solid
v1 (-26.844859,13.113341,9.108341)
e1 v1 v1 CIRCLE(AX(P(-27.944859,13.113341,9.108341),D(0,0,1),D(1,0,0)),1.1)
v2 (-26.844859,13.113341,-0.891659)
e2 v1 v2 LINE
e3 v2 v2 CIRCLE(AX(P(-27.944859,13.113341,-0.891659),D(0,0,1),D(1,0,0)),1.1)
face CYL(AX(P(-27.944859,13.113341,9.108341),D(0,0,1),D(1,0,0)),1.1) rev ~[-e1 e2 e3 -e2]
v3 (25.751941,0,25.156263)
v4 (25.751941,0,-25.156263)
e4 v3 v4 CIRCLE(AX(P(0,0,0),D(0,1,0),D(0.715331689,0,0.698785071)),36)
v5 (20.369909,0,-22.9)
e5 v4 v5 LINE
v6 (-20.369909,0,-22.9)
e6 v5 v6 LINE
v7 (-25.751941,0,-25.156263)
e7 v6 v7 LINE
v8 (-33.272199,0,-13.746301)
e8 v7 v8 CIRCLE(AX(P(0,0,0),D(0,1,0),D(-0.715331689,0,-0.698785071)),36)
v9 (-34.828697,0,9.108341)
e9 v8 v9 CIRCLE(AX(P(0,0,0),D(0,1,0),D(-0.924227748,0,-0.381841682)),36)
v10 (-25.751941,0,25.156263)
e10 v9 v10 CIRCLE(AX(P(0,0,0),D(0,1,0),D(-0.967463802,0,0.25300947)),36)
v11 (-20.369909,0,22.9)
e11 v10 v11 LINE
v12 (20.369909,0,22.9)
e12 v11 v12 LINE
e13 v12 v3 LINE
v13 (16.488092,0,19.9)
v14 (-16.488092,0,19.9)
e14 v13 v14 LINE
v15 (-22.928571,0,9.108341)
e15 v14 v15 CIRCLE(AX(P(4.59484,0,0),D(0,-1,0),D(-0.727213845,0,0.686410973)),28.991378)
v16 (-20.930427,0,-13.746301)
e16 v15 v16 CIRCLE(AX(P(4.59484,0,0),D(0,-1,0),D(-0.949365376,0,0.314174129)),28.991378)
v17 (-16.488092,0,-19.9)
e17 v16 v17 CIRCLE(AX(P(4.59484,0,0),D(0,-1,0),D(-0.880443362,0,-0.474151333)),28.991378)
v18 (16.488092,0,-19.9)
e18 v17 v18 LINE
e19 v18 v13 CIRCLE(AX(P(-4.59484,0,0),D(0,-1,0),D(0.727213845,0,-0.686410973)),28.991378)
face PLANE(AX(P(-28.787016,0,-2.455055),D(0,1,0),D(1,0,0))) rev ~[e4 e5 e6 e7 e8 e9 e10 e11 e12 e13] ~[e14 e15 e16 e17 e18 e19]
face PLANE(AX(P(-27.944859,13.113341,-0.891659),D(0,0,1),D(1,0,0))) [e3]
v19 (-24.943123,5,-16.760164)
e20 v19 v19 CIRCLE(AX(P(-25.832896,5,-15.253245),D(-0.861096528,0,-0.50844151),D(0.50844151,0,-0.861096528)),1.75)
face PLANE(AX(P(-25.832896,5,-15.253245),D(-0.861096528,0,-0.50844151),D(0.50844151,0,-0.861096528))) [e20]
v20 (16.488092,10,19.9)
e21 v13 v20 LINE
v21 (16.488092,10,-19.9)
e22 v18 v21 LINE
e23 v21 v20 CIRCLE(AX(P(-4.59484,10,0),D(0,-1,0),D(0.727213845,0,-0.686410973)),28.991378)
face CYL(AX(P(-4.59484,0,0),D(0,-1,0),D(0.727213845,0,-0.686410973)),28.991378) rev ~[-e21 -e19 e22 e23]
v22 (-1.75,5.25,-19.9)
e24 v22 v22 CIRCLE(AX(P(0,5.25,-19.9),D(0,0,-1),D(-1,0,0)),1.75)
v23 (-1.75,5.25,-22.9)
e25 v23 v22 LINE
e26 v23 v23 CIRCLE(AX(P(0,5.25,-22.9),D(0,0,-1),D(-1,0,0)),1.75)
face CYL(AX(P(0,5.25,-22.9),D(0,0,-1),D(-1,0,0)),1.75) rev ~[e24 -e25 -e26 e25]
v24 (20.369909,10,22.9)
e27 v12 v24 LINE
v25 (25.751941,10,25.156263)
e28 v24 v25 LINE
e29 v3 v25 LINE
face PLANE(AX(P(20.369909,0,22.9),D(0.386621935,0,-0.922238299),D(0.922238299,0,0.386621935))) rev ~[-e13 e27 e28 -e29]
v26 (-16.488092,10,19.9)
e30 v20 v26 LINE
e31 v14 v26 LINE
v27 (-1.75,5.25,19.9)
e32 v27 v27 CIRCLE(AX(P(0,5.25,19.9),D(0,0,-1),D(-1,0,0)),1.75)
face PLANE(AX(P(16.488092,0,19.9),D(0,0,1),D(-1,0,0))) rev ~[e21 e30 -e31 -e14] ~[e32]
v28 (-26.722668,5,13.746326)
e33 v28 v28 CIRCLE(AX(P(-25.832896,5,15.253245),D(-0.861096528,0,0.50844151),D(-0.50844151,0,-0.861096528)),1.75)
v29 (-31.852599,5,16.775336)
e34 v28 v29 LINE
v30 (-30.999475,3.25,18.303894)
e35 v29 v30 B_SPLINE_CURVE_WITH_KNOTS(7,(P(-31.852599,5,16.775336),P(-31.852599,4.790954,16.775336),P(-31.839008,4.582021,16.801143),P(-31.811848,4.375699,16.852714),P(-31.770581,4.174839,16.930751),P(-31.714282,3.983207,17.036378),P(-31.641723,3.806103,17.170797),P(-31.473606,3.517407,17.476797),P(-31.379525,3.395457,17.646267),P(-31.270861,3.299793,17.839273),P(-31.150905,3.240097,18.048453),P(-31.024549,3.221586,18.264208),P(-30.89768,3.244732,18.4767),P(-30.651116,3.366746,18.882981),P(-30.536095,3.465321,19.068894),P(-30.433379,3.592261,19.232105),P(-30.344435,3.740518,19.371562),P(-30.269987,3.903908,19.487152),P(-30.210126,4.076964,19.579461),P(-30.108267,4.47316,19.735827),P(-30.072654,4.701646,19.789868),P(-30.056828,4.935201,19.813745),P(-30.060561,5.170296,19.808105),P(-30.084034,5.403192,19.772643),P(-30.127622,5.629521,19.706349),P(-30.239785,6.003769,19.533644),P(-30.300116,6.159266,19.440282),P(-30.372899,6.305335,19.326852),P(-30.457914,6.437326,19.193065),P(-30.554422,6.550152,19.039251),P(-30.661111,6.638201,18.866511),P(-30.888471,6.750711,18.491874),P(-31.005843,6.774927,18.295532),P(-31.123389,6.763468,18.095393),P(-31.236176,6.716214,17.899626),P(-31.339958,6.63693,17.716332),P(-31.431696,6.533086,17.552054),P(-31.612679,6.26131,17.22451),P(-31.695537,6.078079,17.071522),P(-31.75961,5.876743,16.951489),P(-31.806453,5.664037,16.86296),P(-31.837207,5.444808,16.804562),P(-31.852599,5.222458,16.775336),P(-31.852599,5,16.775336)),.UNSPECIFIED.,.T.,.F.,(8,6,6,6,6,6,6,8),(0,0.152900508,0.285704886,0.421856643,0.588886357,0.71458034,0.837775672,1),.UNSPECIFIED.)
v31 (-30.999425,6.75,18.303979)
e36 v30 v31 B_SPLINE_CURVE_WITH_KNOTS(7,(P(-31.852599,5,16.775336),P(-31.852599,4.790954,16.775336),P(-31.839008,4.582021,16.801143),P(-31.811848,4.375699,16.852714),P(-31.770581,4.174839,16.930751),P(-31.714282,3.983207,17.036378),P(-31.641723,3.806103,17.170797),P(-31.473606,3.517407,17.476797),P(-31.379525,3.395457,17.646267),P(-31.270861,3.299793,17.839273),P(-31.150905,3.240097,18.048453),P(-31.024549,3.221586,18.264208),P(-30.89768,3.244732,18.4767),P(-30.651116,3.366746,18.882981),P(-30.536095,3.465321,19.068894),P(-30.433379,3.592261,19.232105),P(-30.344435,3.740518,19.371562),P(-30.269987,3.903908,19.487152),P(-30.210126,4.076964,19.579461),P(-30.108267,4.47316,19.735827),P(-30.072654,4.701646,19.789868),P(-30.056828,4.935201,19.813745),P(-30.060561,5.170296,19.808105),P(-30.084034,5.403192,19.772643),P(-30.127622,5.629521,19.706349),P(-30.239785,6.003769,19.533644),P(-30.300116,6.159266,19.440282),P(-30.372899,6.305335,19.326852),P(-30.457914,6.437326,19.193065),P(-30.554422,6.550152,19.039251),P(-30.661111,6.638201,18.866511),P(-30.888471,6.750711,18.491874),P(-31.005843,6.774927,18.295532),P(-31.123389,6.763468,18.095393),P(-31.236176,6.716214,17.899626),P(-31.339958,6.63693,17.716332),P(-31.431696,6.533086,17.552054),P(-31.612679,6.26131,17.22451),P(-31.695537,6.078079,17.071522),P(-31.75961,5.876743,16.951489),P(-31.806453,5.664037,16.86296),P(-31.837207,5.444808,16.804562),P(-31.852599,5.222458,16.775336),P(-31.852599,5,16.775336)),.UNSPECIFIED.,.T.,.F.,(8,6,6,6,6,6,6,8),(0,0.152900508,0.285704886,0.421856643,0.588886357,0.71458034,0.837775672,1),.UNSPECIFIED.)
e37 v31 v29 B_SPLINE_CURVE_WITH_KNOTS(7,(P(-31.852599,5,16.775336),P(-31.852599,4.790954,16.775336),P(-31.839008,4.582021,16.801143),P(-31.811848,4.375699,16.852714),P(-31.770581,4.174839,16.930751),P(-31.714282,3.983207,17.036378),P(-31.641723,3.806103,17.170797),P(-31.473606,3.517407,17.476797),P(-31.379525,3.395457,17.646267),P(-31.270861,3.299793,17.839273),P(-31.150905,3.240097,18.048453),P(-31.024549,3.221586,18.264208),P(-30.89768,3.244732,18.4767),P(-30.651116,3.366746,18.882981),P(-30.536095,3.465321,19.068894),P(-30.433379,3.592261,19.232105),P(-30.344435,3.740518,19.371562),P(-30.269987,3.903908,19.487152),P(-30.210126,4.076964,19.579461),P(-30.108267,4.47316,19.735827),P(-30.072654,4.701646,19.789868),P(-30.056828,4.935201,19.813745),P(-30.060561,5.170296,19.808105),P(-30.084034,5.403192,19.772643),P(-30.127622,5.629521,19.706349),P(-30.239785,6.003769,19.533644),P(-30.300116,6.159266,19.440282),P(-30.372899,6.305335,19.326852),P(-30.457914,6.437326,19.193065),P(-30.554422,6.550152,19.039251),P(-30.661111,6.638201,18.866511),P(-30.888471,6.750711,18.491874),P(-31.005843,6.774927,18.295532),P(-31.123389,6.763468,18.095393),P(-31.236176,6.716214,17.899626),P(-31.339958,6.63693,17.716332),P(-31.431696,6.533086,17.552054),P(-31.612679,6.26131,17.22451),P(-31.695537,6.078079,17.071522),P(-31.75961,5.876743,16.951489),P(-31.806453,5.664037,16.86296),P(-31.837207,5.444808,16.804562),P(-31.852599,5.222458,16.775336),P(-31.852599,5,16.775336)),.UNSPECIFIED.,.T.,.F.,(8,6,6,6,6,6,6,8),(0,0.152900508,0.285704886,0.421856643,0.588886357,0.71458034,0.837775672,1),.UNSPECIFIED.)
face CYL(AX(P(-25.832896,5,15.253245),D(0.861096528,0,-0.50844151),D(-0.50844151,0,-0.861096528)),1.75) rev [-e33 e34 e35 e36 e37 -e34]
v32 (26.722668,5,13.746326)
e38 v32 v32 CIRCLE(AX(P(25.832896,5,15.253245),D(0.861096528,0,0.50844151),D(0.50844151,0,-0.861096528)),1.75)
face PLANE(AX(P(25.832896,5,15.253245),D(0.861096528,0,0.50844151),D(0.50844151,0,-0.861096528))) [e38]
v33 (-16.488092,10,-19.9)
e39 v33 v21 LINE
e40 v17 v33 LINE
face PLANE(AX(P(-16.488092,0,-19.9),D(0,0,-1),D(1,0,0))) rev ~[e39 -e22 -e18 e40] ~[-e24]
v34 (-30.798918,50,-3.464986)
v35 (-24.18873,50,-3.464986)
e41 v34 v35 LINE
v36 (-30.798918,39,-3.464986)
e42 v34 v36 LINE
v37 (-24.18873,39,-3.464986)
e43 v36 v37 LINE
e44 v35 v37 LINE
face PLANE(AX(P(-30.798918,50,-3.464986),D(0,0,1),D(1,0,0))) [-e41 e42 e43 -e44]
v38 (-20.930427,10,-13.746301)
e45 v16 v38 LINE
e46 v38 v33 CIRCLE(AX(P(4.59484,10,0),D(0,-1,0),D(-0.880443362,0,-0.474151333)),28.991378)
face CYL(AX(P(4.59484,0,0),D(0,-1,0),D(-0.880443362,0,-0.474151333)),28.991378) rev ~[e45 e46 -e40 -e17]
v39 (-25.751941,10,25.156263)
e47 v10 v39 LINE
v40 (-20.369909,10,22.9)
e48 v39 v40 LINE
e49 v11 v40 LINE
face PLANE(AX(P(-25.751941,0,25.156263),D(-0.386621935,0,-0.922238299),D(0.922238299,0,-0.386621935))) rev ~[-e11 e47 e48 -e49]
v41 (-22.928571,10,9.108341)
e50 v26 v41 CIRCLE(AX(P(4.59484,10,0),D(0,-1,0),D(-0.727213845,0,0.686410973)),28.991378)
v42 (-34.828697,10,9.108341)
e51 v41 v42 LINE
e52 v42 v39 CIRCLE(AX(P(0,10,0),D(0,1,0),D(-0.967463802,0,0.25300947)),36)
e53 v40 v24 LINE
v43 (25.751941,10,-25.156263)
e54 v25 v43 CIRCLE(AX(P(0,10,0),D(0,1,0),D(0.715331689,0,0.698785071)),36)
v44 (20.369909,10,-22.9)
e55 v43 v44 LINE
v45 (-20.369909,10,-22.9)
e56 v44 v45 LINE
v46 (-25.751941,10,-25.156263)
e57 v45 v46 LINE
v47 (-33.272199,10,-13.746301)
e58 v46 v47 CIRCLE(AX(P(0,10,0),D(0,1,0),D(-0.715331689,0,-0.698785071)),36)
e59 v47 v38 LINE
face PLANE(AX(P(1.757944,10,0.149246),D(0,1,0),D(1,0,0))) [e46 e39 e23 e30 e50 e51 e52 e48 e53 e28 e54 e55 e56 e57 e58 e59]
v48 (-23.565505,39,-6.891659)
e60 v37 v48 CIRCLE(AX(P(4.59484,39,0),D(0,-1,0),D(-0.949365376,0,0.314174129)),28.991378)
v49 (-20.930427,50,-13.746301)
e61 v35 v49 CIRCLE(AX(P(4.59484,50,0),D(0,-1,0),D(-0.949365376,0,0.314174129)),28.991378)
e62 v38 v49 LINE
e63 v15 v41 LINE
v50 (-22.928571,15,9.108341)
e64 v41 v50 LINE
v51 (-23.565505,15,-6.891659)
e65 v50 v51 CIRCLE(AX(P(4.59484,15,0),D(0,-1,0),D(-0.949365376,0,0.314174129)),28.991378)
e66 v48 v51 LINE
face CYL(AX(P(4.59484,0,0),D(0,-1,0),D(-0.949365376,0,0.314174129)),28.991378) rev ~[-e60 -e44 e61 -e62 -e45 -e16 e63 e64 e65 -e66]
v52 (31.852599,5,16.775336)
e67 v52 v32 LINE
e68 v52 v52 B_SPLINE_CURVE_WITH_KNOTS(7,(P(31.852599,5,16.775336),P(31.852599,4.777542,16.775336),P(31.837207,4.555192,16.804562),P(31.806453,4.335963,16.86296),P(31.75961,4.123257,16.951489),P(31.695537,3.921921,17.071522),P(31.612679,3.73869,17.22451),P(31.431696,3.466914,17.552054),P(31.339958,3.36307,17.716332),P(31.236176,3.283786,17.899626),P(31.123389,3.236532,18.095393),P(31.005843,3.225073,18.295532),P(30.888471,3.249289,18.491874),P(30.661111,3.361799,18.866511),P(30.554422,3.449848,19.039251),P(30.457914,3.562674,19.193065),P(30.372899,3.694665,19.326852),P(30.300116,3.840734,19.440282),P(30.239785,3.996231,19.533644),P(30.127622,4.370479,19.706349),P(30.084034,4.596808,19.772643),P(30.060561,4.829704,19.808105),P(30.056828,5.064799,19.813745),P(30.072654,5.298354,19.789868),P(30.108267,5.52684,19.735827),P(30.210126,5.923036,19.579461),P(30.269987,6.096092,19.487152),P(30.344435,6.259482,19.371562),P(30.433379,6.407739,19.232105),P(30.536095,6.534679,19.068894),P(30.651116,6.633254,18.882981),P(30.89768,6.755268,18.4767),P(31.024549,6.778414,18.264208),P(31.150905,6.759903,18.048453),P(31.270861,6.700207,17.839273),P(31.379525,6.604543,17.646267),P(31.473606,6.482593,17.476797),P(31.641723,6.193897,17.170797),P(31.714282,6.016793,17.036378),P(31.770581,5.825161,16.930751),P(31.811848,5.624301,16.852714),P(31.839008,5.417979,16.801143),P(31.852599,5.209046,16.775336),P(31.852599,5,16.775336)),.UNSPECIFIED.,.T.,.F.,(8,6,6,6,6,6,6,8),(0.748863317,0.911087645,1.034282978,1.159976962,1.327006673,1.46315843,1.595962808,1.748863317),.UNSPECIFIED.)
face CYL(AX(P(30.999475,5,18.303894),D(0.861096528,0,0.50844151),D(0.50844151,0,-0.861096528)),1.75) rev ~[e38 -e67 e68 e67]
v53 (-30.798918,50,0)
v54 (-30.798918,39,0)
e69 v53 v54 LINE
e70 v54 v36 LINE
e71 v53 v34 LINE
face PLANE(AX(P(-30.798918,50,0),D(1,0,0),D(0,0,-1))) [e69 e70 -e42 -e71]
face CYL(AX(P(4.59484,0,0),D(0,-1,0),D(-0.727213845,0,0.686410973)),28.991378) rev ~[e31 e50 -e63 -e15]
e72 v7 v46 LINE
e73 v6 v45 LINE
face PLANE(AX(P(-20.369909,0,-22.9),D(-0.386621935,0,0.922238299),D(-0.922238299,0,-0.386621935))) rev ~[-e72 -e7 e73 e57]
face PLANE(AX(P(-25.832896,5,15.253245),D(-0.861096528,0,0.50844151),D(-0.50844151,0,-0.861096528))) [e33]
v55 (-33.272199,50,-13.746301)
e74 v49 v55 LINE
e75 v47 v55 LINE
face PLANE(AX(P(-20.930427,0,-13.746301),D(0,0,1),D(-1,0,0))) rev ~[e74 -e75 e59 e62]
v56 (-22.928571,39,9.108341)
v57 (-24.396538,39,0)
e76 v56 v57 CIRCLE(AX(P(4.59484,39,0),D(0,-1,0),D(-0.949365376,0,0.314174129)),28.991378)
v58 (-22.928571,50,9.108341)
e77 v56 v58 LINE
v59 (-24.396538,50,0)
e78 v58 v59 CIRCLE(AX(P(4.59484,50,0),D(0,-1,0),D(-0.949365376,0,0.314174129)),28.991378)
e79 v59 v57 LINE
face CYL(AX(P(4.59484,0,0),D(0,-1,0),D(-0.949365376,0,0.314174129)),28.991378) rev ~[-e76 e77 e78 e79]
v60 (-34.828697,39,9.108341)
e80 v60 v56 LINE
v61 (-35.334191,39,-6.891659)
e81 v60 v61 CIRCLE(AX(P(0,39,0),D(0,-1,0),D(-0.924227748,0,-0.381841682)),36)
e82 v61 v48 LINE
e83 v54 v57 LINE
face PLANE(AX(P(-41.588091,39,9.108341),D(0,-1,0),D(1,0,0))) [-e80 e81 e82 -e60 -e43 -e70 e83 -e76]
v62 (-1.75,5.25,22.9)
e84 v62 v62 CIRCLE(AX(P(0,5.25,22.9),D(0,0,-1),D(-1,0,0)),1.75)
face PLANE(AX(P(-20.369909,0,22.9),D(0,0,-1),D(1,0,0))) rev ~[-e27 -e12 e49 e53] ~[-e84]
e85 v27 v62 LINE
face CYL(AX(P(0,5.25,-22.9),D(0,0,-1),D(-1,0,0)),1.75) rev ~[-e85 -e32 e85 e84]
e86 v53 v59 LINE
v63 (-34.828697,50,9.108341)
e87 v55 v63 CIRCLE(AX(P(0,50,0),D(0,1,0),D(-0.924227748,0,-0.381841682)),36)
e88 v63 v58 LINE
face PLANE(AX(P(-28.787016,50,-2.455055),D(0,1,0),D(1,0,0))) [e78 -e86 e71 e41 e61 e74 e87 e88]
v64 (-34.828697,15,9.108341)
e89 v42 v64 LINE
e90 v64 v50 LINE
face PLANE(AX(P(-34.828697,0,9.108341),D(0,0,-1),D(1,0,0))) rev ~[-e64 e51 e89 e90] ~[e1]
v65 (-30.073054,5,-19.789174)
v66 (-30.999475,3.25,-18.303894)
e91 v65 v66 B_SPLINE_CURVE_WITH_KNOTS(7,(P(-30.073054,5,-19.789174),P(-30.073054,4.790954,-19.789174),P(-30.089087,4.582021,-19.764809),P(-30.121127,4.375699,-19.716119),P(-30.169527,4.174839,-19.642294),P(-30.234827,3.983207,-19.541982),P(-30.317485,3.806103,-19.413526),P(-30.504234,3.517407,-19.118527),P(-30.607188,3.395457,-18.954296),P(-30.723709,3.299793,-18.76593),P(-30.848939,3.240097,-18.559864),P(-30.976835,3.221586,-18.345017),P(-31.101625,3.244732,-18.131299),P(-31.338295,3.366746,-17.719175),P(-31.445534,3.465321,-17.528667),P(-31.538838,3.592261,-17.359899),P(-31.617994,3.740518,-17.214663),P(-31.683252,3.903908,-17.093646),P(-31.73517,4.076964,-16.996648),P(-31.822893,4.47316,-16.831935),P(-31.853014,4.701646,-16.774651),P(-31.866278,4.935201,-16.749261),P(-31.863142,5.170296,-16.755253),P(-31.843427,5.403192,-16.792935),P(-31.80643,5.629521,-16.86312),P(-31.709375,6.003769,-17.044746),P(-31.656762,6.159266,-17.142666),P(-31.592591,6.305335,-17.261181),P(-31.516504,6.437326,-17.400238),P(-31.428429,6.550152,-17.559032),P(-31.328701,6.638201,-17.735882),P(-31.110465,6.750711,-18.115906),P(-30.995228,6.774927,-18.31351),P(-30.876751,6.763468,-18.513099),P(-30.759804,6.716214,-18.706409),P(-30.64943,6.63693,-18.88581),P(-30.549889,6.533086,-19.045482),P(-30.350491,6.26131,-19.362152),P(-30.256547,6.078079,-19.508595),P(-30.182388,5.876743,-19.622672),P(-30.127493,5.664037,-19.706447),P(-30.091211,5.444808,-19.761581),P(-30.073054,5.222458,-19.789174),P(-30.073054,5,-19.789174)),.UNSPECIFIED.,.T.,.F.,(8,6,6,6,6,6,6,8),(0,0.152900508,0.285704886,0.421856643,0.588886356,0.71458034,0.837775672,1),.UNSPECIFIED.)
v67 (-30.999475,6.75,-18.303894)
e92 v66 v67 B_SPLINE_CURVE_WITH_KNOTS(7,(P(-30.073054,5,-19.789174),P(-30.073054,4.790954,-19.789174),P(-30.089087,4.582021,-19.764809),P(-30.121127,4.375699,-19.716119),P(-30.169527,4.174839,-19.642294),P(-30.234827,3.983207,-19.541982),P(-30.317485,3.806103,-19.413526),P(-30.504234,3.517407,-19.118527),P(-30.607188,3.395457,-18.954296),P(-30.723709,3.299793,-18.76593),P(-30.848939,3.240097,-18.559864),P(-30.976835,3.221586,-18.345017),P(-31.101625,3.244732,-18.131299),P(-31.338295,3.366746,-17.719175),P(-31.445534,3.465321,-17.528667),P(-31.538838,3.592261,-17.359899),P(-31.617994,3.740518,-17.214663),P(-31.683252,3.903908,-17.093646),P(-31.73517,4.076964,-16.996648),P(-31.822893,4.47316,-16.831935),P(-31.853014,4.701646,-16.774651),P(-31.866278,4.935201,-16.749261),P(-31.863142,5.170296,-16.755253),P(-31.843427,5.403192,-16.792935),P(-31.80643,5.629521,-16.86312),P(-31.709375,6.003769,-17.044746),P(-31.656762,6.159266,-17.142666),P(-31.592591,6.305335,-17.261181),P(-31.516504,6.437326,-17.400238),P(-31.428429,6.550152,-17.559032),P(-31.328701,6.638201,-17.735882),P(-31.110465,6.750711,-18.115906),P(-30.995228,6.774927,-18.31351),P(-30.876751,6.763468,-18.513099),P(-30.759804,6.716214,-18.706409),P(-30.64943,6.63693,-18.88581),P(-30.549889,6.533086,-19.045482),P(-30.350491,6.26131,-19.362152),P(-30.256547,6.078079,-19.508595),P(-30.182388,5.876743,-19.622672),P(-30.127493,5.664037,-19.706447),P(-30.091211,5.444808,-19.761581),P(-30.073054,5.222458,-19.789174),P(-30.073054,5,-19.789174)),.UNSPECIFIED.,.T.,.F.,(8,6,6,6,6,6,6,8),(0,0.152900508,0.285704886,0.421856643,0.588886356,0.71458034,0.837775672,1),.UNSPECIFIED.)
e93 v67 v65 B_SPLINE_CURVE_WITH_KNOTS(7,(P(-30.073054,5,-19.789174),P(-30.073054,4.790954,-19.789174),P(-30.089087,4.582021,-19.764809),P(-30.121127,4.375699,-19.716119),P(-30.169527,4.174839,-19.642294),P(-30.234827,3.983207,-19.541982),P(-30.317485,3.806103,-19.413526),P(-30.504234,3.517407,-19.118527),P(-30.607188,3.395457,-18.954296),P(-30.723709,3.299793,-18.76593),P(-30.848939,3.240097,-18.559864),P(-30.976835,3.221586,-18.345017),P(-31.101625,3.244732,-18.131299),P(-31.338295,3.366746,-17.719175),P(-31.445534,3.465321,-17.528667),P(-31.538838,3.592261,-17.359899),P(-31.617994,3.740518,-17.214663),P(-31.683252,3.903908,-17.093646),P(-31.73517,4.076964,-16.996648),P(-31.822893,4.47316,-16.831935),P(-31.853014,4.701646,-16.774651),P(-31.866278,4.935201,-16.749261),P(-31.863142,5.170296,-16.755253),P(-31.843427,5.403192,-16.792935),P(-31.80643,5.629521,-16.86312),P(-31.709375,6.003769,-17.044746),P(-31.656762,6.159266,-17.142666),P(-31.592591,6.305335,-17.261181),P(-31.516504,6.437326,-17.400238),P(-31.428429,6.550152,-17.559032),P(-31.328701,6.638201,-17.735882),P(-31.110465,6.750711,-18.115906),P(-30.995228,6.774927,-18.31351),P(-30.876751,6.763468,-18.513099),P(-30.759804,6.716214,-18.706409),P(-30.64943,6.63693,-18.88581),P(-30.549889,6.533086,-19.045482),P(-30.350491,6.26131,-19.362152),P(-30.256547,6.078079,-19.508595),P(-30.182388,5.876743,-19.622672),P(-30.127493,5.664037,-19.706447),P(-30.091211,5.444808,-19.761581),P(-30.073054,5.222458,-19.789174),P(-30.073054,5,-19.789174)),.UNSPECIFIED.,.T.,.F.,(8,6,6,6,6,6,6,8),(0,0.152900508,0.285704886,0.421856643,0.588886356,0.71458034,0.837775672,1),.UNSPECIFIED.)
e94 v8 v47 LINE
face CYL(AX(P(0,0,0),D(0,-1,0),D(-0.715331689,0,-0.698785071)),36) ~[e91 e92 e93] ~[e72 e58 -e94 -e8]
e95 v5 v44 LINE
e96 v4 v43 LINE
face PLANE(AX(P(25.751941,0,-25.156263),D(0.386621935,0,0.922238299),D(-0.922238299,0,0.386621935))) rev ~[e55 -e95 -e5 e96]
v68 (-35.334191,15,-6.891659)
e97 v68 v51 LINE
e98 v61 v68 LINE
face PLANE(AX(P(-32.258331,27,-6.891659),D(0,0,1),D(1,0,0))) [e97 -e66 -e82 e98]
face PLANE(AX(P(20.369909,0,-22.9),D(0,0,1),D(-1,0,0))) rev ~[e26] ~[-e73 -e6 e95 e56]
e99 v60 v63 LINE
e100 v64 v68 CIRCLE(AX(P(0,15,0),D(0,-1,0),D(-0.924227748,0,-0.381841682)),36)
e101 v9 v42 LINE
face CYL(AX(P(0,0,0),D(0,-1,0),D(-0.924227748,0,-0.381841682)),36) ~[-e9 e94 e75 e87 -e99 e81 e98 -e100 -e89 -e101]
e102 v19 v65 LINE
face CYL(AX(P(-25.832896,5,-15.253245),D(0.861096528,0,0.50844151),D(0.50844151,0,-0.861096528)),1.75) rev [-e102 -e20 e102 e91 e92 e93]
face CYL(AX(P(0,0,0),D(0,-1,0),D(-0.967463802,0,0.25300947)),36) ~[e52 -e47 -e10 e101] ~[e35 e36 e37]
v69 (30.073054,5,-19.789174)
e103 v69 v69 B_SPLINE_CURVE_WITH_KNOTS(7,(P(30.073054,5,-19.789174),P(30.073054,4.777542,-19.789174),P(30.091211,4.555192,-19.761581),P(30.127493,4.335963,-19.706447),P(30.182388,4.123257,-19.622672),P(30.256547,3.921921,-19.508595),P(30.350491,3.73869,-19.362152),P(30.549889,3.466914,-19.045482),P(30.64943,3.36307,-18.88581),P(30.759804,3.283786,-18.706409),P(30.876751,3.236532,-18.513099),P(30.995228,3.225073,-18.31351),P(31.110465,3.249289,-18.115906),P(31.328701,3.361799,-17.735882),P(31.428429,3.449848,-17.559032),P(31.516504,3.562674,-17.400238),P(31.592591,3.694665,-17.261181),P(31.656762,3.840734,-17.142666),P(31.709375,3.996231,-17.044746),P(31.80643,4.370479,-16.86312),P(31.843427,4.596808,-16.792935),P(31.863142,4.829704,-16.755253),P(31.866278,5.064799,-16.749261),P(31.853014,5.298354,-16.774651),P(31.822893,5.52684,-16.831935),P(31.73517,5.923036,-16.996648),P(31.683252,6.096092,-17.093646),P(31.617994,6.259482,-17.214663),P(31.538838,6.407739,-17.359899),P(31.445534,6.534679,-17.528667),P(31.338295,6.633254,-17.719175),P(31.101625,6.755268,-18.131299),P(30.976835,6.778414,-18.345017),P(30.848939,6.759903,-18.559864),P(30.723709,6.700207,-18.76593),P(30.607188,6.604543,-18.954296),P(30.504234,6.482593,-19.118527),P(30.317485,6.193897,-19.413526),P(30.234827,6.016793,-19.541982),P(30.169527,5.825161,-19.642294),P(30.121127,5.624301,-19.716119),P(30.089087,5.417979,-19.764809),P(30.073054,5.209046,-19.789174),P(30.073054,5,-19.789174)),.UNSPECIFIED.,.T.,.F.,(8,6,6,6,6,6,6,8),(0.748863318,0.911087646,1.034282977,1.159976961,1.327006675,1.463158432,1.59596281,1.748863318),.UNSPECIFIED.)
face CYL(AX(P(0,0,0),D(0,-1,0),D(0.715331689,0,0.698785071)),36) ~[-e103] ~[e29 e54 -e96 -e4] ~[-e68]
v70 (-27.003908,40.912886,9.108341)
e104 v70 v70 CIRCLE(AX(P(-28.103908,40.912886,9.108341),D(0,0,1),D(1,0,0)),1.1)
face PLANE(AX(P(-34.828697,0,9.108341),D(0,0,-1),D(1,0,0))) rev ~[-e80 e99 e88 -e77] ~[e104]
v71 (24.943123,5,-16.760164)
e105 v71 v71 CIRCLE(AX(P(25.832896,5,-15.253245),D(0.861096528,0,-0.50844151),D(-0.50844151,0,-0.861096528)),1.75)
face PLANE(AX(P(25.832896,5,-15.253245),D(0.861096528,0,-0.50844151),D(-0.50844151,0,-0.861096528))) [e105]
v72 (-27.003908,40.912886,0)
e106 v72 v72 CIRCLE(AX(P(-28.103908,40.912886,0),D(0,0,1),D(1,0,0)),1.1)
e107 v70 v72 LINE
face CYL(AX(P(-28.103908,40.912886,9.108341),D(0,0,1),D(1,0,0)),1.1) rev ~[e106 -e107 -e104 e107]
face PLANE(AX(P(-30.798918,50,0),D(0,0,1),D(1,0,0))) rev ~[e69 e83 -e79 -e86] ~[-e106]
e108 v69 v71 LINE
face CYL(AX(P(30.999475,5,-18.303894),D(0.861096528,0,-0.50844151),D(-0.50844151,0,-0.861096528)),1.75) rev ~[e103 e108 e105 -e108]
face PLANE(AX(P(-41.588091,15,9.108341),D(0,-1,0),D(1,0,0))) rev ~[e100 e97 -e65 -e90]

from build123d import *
from build123d.topology import SkipClean

# Parameters (mm, degrees)
BOSS_EXTRUDE1_DEPTH = 10
BOSS_EXTRUDE3_DEPTH = 50
SKETCH3_W           = 18.659519989
SKETCH3_H           = 24
CUT_EXTRUDE2_DEPTH  = 16
SKETCH4_W           = 7.007010428
SKETCH4_H           = 3.464986189
CUT_EXTRUDE4_DEPTH  = 11
SKETCH6_R           = 1.75
CUT_EXTRUDE5_DEPTH  = 50
SKETCH7_R           = 1.1
CUT_EXTRUDE6_DEPTH  = 10
SKETCH8_R           = 1.1
CUT_EXTRUDE7_DEPTH  = 10
SKETCH12_R          = 1.75
CUT_EXTRUDE11_DEPTH = 6
SKETCH13_R          = 1.75
CUT_EXTRUDE12_DEPTH = 6
CUT_EXTRUDE13_START = -6
SKETCH15_R          = 1.75
CUT_EXTRUDE13_DEPTH = 6
CUT_EXTRUDE14_START = -6
SKETCH16_R          = 1.75
CUT_EXTRUDE14_DEPTH = 6


with BuildPart() as part:
    # Sketch1 → Boss-Extrude1 (new body)
    with BuildSketch(Plane(origin=(0, 0, 0), x_dir=(1, 0, 0), z_dir=(0, 1, 0))):
        with BuildLine():
            Line((-20.369908508, -22.9), (20.369908508, -22.9))
            Line((20.369908508, -22.9), (25.75194079, -25.156262551))
            ThreePointArc((25.75194079, -25.156262551), (36, 0), (25.75194079, 25.156262551))
            Line((25.75194079, 25.156262551), (20.369908508, 22.9))
            Line((20.369908508, 22.9), (-20.369908508, 22.9))
            Line((-20.369908508, 22.9), (-25.75194079, 25.156262551))
            ThreePointArc((-25.75194079, 25.156262551), (-30.058427692, 19.811383714), (-33.272198921, 13.746300555))
            Line((-33.272198921, 13.746300555), (-20.930426703, 13.746300555))
            ThreePointArc((-20.930426703, 13.746300555), (-18.911500586, 16.969147591), (-16.488091862, 19.9))
            Line((-16.488091862, 19.9), (16.488091862, 19.9))
            ThreePointArc((16.488091862, 19.9), (24.396538405, 0), (16.488091862, -19.9))
            Line((16.488091862, -19.9), (-16.488091862, -19.9))
            ThreePointArc((-16.488091862, -19.9), (-20.300121646, -14.857351831), (-22.928570874, -9.108340935))
            Line((-22.928570874, -9.108340935), (-34.828696866, -9.108340935))
            ThreePointArc((-34.828696866, -9.108340935), (-31.335081965, -17.723223133), (-25.75194079, -25.156262551))
            Line((-25.75194079, -25.156262551), (-20.369908508, -22.9))
        make_face()
    extrude(amount=BOSS_EXTRUDE1_DEPTH)

    # Sketch1<5> → Boss-Extrude3 (add)
    with BuildSketch(Plane(origin=(0, 0, 0), x_dir=(1, 0, 0), z_dir=(0, 1, 0))):
        with BuildLine():
            ThreePointArc((-33.272198921, 13.746300555), (-35.916801934, 2.44608643), (-34.828696866, -9.108340935))
            Line((-34.828696866, -9.108340935), (-22.928570874, -9.108340935))
            ThreePointArc((-22.928570874, -9.108340935), (-24.286368586, 2.525037107), (-20.930426703, 13.746300555))
            Line((-20.930426703, 13.746300555), (-33.272198921, 13.746300555))
        make_face()
    extrude(amount=BOSS_EXTRUDE3_DEPTH)

    # Sketch3 → Cut-Extrude2 (cut)
    with BuildSketch(Plane.XY.offset(9.108340935)):
        with Locations((-32.258330869, 27)):
            Rectangle(SKETCH3_W, SKETCH3_H)
    extrude(amount=-CUT_EXTRUDE2_DEPTH, mode=Mode.SUBTRACT)

    # Sketch4 → Cut-Extrude4 (cut)
    with BuildSketch(Plane(origin=(0, 50, 0), x_dir=(1, 0, 0), z_dir=(0, 1, 0))):
        with Locations((-27.295412644, 1.732493095)):
            Rectangle(SKETCH4_W, SKETCH4_H)
    extrude(amount=-CUT_EXTRUDE4_DEPTH, mode=Mode.SUBTRACT)

    # Sketch6 → Cut-Extrude5 (cut)
    with BuildSketch(Plane(origin=(0, 0, -22.9), x_dir=(-1, 0, 0), z_dir=(0, 0, -1))):
        with Locations((0, 5.25)):
            Circle(SKETCH6_R)
    extrude(amount=-CUT_EXTRUDE5_DEPTH, mode=Mode.SUBTRACT)

    # Sketch7 → Cut-Extrude6 (cut)
    with BuildSketch(Plane.XY.offset(9.108340935)):
        with Locations((-28.103908, 40.912886193)):
            Circle(SKETCH7_R)
    extrude(amount=-CUT_EXTRUDE6_DEPTH, mode=Mode.SUBTRACT)

    # Sketch8 → Cut-Extrude7 (cut)
    with BuildSketch(Plane.XY.offset(9.108340935)):
        with Locations((-27.944858765, 13.113341173)):
            Circle(SKETCH8_R)
    extrude(amount=-CUT_EXTRUDE7_DEPTH, mode=Mode.SUBTRACT)

    # Sketch12 → Cut-Extrude11 (cut)
    with BuildSketch(Plane(origin=(30.999475006, 10, 18.303894377), x_dir=(0.5084415104778145, 0, -0.8610965279357702), z_dir=(0.8610965279357702, 0, 0.5084415104778145))):
        with Locations((0, -5)):
            Circle(SKETCH12_R)
    extrude(amount=-CUT_EXTRUDE11_DEPTH, mode=Mode.SUBTRACT)

    # Sketch13 → Cut-Extrude12 (cut)
    with BuildSketch(Plane(origin=(30.999475006, 10, -18.303894377), x_dir=(-0.5084415104778145, 0, -0.8610965279357701), z_dir=(0.8610965279357701, 0, -0.5084415104778145))):
        with Locations((0, -5)):
            Circle(SKETCH13_R)
    extrude(amount=-CUT_EXTRUDE12_DEPTH, mode=Mode.SUBTRACT)

    # Sketch15 → Cut-Extrude13 (cut)
    with SkipClean():  # the faces are left unmerged after this step: merging them gives an invalid solid
        with BuildSketch(Plane(origin=(-30.999475006, 10, 18.303894377), x_dir=(0.5084415104778142, 0, 0.8610965279357703), z_dir=(-0.8610965279357703, 0, 0.5084415104778142)).offset(CUT_EXTRUDE13_START)):
            with Locations((0, -5)):
                Circle(SKETCH15_R)
        extrude(amount=CUT_EXTRUDE13_DEPTH, mode=Mode.SUBTRACT)

    # Sketch16 → Cut-Extrude14 (cut)
    with SkipClean():  # the faces are left unmerged after this step: merging them gives an invalid solid
        with BuildSketch(Plane(origin=(-30.999475006, 10, -18.303894377), x_dir=(-0.508441510477814, 0, 0.8610965279357704), z_dir=(-0.8610965279357704, 0, -0.508441510477814)).offset(CUT_EXTRUDE14_START)):
            with Locations((0, -5)):
                Circle(SKETCH16_R)
        extrude(amount=CUT_EXTRUDE14_DEPTH, mode=Mode.SUBTRACT)


solid = part.part
